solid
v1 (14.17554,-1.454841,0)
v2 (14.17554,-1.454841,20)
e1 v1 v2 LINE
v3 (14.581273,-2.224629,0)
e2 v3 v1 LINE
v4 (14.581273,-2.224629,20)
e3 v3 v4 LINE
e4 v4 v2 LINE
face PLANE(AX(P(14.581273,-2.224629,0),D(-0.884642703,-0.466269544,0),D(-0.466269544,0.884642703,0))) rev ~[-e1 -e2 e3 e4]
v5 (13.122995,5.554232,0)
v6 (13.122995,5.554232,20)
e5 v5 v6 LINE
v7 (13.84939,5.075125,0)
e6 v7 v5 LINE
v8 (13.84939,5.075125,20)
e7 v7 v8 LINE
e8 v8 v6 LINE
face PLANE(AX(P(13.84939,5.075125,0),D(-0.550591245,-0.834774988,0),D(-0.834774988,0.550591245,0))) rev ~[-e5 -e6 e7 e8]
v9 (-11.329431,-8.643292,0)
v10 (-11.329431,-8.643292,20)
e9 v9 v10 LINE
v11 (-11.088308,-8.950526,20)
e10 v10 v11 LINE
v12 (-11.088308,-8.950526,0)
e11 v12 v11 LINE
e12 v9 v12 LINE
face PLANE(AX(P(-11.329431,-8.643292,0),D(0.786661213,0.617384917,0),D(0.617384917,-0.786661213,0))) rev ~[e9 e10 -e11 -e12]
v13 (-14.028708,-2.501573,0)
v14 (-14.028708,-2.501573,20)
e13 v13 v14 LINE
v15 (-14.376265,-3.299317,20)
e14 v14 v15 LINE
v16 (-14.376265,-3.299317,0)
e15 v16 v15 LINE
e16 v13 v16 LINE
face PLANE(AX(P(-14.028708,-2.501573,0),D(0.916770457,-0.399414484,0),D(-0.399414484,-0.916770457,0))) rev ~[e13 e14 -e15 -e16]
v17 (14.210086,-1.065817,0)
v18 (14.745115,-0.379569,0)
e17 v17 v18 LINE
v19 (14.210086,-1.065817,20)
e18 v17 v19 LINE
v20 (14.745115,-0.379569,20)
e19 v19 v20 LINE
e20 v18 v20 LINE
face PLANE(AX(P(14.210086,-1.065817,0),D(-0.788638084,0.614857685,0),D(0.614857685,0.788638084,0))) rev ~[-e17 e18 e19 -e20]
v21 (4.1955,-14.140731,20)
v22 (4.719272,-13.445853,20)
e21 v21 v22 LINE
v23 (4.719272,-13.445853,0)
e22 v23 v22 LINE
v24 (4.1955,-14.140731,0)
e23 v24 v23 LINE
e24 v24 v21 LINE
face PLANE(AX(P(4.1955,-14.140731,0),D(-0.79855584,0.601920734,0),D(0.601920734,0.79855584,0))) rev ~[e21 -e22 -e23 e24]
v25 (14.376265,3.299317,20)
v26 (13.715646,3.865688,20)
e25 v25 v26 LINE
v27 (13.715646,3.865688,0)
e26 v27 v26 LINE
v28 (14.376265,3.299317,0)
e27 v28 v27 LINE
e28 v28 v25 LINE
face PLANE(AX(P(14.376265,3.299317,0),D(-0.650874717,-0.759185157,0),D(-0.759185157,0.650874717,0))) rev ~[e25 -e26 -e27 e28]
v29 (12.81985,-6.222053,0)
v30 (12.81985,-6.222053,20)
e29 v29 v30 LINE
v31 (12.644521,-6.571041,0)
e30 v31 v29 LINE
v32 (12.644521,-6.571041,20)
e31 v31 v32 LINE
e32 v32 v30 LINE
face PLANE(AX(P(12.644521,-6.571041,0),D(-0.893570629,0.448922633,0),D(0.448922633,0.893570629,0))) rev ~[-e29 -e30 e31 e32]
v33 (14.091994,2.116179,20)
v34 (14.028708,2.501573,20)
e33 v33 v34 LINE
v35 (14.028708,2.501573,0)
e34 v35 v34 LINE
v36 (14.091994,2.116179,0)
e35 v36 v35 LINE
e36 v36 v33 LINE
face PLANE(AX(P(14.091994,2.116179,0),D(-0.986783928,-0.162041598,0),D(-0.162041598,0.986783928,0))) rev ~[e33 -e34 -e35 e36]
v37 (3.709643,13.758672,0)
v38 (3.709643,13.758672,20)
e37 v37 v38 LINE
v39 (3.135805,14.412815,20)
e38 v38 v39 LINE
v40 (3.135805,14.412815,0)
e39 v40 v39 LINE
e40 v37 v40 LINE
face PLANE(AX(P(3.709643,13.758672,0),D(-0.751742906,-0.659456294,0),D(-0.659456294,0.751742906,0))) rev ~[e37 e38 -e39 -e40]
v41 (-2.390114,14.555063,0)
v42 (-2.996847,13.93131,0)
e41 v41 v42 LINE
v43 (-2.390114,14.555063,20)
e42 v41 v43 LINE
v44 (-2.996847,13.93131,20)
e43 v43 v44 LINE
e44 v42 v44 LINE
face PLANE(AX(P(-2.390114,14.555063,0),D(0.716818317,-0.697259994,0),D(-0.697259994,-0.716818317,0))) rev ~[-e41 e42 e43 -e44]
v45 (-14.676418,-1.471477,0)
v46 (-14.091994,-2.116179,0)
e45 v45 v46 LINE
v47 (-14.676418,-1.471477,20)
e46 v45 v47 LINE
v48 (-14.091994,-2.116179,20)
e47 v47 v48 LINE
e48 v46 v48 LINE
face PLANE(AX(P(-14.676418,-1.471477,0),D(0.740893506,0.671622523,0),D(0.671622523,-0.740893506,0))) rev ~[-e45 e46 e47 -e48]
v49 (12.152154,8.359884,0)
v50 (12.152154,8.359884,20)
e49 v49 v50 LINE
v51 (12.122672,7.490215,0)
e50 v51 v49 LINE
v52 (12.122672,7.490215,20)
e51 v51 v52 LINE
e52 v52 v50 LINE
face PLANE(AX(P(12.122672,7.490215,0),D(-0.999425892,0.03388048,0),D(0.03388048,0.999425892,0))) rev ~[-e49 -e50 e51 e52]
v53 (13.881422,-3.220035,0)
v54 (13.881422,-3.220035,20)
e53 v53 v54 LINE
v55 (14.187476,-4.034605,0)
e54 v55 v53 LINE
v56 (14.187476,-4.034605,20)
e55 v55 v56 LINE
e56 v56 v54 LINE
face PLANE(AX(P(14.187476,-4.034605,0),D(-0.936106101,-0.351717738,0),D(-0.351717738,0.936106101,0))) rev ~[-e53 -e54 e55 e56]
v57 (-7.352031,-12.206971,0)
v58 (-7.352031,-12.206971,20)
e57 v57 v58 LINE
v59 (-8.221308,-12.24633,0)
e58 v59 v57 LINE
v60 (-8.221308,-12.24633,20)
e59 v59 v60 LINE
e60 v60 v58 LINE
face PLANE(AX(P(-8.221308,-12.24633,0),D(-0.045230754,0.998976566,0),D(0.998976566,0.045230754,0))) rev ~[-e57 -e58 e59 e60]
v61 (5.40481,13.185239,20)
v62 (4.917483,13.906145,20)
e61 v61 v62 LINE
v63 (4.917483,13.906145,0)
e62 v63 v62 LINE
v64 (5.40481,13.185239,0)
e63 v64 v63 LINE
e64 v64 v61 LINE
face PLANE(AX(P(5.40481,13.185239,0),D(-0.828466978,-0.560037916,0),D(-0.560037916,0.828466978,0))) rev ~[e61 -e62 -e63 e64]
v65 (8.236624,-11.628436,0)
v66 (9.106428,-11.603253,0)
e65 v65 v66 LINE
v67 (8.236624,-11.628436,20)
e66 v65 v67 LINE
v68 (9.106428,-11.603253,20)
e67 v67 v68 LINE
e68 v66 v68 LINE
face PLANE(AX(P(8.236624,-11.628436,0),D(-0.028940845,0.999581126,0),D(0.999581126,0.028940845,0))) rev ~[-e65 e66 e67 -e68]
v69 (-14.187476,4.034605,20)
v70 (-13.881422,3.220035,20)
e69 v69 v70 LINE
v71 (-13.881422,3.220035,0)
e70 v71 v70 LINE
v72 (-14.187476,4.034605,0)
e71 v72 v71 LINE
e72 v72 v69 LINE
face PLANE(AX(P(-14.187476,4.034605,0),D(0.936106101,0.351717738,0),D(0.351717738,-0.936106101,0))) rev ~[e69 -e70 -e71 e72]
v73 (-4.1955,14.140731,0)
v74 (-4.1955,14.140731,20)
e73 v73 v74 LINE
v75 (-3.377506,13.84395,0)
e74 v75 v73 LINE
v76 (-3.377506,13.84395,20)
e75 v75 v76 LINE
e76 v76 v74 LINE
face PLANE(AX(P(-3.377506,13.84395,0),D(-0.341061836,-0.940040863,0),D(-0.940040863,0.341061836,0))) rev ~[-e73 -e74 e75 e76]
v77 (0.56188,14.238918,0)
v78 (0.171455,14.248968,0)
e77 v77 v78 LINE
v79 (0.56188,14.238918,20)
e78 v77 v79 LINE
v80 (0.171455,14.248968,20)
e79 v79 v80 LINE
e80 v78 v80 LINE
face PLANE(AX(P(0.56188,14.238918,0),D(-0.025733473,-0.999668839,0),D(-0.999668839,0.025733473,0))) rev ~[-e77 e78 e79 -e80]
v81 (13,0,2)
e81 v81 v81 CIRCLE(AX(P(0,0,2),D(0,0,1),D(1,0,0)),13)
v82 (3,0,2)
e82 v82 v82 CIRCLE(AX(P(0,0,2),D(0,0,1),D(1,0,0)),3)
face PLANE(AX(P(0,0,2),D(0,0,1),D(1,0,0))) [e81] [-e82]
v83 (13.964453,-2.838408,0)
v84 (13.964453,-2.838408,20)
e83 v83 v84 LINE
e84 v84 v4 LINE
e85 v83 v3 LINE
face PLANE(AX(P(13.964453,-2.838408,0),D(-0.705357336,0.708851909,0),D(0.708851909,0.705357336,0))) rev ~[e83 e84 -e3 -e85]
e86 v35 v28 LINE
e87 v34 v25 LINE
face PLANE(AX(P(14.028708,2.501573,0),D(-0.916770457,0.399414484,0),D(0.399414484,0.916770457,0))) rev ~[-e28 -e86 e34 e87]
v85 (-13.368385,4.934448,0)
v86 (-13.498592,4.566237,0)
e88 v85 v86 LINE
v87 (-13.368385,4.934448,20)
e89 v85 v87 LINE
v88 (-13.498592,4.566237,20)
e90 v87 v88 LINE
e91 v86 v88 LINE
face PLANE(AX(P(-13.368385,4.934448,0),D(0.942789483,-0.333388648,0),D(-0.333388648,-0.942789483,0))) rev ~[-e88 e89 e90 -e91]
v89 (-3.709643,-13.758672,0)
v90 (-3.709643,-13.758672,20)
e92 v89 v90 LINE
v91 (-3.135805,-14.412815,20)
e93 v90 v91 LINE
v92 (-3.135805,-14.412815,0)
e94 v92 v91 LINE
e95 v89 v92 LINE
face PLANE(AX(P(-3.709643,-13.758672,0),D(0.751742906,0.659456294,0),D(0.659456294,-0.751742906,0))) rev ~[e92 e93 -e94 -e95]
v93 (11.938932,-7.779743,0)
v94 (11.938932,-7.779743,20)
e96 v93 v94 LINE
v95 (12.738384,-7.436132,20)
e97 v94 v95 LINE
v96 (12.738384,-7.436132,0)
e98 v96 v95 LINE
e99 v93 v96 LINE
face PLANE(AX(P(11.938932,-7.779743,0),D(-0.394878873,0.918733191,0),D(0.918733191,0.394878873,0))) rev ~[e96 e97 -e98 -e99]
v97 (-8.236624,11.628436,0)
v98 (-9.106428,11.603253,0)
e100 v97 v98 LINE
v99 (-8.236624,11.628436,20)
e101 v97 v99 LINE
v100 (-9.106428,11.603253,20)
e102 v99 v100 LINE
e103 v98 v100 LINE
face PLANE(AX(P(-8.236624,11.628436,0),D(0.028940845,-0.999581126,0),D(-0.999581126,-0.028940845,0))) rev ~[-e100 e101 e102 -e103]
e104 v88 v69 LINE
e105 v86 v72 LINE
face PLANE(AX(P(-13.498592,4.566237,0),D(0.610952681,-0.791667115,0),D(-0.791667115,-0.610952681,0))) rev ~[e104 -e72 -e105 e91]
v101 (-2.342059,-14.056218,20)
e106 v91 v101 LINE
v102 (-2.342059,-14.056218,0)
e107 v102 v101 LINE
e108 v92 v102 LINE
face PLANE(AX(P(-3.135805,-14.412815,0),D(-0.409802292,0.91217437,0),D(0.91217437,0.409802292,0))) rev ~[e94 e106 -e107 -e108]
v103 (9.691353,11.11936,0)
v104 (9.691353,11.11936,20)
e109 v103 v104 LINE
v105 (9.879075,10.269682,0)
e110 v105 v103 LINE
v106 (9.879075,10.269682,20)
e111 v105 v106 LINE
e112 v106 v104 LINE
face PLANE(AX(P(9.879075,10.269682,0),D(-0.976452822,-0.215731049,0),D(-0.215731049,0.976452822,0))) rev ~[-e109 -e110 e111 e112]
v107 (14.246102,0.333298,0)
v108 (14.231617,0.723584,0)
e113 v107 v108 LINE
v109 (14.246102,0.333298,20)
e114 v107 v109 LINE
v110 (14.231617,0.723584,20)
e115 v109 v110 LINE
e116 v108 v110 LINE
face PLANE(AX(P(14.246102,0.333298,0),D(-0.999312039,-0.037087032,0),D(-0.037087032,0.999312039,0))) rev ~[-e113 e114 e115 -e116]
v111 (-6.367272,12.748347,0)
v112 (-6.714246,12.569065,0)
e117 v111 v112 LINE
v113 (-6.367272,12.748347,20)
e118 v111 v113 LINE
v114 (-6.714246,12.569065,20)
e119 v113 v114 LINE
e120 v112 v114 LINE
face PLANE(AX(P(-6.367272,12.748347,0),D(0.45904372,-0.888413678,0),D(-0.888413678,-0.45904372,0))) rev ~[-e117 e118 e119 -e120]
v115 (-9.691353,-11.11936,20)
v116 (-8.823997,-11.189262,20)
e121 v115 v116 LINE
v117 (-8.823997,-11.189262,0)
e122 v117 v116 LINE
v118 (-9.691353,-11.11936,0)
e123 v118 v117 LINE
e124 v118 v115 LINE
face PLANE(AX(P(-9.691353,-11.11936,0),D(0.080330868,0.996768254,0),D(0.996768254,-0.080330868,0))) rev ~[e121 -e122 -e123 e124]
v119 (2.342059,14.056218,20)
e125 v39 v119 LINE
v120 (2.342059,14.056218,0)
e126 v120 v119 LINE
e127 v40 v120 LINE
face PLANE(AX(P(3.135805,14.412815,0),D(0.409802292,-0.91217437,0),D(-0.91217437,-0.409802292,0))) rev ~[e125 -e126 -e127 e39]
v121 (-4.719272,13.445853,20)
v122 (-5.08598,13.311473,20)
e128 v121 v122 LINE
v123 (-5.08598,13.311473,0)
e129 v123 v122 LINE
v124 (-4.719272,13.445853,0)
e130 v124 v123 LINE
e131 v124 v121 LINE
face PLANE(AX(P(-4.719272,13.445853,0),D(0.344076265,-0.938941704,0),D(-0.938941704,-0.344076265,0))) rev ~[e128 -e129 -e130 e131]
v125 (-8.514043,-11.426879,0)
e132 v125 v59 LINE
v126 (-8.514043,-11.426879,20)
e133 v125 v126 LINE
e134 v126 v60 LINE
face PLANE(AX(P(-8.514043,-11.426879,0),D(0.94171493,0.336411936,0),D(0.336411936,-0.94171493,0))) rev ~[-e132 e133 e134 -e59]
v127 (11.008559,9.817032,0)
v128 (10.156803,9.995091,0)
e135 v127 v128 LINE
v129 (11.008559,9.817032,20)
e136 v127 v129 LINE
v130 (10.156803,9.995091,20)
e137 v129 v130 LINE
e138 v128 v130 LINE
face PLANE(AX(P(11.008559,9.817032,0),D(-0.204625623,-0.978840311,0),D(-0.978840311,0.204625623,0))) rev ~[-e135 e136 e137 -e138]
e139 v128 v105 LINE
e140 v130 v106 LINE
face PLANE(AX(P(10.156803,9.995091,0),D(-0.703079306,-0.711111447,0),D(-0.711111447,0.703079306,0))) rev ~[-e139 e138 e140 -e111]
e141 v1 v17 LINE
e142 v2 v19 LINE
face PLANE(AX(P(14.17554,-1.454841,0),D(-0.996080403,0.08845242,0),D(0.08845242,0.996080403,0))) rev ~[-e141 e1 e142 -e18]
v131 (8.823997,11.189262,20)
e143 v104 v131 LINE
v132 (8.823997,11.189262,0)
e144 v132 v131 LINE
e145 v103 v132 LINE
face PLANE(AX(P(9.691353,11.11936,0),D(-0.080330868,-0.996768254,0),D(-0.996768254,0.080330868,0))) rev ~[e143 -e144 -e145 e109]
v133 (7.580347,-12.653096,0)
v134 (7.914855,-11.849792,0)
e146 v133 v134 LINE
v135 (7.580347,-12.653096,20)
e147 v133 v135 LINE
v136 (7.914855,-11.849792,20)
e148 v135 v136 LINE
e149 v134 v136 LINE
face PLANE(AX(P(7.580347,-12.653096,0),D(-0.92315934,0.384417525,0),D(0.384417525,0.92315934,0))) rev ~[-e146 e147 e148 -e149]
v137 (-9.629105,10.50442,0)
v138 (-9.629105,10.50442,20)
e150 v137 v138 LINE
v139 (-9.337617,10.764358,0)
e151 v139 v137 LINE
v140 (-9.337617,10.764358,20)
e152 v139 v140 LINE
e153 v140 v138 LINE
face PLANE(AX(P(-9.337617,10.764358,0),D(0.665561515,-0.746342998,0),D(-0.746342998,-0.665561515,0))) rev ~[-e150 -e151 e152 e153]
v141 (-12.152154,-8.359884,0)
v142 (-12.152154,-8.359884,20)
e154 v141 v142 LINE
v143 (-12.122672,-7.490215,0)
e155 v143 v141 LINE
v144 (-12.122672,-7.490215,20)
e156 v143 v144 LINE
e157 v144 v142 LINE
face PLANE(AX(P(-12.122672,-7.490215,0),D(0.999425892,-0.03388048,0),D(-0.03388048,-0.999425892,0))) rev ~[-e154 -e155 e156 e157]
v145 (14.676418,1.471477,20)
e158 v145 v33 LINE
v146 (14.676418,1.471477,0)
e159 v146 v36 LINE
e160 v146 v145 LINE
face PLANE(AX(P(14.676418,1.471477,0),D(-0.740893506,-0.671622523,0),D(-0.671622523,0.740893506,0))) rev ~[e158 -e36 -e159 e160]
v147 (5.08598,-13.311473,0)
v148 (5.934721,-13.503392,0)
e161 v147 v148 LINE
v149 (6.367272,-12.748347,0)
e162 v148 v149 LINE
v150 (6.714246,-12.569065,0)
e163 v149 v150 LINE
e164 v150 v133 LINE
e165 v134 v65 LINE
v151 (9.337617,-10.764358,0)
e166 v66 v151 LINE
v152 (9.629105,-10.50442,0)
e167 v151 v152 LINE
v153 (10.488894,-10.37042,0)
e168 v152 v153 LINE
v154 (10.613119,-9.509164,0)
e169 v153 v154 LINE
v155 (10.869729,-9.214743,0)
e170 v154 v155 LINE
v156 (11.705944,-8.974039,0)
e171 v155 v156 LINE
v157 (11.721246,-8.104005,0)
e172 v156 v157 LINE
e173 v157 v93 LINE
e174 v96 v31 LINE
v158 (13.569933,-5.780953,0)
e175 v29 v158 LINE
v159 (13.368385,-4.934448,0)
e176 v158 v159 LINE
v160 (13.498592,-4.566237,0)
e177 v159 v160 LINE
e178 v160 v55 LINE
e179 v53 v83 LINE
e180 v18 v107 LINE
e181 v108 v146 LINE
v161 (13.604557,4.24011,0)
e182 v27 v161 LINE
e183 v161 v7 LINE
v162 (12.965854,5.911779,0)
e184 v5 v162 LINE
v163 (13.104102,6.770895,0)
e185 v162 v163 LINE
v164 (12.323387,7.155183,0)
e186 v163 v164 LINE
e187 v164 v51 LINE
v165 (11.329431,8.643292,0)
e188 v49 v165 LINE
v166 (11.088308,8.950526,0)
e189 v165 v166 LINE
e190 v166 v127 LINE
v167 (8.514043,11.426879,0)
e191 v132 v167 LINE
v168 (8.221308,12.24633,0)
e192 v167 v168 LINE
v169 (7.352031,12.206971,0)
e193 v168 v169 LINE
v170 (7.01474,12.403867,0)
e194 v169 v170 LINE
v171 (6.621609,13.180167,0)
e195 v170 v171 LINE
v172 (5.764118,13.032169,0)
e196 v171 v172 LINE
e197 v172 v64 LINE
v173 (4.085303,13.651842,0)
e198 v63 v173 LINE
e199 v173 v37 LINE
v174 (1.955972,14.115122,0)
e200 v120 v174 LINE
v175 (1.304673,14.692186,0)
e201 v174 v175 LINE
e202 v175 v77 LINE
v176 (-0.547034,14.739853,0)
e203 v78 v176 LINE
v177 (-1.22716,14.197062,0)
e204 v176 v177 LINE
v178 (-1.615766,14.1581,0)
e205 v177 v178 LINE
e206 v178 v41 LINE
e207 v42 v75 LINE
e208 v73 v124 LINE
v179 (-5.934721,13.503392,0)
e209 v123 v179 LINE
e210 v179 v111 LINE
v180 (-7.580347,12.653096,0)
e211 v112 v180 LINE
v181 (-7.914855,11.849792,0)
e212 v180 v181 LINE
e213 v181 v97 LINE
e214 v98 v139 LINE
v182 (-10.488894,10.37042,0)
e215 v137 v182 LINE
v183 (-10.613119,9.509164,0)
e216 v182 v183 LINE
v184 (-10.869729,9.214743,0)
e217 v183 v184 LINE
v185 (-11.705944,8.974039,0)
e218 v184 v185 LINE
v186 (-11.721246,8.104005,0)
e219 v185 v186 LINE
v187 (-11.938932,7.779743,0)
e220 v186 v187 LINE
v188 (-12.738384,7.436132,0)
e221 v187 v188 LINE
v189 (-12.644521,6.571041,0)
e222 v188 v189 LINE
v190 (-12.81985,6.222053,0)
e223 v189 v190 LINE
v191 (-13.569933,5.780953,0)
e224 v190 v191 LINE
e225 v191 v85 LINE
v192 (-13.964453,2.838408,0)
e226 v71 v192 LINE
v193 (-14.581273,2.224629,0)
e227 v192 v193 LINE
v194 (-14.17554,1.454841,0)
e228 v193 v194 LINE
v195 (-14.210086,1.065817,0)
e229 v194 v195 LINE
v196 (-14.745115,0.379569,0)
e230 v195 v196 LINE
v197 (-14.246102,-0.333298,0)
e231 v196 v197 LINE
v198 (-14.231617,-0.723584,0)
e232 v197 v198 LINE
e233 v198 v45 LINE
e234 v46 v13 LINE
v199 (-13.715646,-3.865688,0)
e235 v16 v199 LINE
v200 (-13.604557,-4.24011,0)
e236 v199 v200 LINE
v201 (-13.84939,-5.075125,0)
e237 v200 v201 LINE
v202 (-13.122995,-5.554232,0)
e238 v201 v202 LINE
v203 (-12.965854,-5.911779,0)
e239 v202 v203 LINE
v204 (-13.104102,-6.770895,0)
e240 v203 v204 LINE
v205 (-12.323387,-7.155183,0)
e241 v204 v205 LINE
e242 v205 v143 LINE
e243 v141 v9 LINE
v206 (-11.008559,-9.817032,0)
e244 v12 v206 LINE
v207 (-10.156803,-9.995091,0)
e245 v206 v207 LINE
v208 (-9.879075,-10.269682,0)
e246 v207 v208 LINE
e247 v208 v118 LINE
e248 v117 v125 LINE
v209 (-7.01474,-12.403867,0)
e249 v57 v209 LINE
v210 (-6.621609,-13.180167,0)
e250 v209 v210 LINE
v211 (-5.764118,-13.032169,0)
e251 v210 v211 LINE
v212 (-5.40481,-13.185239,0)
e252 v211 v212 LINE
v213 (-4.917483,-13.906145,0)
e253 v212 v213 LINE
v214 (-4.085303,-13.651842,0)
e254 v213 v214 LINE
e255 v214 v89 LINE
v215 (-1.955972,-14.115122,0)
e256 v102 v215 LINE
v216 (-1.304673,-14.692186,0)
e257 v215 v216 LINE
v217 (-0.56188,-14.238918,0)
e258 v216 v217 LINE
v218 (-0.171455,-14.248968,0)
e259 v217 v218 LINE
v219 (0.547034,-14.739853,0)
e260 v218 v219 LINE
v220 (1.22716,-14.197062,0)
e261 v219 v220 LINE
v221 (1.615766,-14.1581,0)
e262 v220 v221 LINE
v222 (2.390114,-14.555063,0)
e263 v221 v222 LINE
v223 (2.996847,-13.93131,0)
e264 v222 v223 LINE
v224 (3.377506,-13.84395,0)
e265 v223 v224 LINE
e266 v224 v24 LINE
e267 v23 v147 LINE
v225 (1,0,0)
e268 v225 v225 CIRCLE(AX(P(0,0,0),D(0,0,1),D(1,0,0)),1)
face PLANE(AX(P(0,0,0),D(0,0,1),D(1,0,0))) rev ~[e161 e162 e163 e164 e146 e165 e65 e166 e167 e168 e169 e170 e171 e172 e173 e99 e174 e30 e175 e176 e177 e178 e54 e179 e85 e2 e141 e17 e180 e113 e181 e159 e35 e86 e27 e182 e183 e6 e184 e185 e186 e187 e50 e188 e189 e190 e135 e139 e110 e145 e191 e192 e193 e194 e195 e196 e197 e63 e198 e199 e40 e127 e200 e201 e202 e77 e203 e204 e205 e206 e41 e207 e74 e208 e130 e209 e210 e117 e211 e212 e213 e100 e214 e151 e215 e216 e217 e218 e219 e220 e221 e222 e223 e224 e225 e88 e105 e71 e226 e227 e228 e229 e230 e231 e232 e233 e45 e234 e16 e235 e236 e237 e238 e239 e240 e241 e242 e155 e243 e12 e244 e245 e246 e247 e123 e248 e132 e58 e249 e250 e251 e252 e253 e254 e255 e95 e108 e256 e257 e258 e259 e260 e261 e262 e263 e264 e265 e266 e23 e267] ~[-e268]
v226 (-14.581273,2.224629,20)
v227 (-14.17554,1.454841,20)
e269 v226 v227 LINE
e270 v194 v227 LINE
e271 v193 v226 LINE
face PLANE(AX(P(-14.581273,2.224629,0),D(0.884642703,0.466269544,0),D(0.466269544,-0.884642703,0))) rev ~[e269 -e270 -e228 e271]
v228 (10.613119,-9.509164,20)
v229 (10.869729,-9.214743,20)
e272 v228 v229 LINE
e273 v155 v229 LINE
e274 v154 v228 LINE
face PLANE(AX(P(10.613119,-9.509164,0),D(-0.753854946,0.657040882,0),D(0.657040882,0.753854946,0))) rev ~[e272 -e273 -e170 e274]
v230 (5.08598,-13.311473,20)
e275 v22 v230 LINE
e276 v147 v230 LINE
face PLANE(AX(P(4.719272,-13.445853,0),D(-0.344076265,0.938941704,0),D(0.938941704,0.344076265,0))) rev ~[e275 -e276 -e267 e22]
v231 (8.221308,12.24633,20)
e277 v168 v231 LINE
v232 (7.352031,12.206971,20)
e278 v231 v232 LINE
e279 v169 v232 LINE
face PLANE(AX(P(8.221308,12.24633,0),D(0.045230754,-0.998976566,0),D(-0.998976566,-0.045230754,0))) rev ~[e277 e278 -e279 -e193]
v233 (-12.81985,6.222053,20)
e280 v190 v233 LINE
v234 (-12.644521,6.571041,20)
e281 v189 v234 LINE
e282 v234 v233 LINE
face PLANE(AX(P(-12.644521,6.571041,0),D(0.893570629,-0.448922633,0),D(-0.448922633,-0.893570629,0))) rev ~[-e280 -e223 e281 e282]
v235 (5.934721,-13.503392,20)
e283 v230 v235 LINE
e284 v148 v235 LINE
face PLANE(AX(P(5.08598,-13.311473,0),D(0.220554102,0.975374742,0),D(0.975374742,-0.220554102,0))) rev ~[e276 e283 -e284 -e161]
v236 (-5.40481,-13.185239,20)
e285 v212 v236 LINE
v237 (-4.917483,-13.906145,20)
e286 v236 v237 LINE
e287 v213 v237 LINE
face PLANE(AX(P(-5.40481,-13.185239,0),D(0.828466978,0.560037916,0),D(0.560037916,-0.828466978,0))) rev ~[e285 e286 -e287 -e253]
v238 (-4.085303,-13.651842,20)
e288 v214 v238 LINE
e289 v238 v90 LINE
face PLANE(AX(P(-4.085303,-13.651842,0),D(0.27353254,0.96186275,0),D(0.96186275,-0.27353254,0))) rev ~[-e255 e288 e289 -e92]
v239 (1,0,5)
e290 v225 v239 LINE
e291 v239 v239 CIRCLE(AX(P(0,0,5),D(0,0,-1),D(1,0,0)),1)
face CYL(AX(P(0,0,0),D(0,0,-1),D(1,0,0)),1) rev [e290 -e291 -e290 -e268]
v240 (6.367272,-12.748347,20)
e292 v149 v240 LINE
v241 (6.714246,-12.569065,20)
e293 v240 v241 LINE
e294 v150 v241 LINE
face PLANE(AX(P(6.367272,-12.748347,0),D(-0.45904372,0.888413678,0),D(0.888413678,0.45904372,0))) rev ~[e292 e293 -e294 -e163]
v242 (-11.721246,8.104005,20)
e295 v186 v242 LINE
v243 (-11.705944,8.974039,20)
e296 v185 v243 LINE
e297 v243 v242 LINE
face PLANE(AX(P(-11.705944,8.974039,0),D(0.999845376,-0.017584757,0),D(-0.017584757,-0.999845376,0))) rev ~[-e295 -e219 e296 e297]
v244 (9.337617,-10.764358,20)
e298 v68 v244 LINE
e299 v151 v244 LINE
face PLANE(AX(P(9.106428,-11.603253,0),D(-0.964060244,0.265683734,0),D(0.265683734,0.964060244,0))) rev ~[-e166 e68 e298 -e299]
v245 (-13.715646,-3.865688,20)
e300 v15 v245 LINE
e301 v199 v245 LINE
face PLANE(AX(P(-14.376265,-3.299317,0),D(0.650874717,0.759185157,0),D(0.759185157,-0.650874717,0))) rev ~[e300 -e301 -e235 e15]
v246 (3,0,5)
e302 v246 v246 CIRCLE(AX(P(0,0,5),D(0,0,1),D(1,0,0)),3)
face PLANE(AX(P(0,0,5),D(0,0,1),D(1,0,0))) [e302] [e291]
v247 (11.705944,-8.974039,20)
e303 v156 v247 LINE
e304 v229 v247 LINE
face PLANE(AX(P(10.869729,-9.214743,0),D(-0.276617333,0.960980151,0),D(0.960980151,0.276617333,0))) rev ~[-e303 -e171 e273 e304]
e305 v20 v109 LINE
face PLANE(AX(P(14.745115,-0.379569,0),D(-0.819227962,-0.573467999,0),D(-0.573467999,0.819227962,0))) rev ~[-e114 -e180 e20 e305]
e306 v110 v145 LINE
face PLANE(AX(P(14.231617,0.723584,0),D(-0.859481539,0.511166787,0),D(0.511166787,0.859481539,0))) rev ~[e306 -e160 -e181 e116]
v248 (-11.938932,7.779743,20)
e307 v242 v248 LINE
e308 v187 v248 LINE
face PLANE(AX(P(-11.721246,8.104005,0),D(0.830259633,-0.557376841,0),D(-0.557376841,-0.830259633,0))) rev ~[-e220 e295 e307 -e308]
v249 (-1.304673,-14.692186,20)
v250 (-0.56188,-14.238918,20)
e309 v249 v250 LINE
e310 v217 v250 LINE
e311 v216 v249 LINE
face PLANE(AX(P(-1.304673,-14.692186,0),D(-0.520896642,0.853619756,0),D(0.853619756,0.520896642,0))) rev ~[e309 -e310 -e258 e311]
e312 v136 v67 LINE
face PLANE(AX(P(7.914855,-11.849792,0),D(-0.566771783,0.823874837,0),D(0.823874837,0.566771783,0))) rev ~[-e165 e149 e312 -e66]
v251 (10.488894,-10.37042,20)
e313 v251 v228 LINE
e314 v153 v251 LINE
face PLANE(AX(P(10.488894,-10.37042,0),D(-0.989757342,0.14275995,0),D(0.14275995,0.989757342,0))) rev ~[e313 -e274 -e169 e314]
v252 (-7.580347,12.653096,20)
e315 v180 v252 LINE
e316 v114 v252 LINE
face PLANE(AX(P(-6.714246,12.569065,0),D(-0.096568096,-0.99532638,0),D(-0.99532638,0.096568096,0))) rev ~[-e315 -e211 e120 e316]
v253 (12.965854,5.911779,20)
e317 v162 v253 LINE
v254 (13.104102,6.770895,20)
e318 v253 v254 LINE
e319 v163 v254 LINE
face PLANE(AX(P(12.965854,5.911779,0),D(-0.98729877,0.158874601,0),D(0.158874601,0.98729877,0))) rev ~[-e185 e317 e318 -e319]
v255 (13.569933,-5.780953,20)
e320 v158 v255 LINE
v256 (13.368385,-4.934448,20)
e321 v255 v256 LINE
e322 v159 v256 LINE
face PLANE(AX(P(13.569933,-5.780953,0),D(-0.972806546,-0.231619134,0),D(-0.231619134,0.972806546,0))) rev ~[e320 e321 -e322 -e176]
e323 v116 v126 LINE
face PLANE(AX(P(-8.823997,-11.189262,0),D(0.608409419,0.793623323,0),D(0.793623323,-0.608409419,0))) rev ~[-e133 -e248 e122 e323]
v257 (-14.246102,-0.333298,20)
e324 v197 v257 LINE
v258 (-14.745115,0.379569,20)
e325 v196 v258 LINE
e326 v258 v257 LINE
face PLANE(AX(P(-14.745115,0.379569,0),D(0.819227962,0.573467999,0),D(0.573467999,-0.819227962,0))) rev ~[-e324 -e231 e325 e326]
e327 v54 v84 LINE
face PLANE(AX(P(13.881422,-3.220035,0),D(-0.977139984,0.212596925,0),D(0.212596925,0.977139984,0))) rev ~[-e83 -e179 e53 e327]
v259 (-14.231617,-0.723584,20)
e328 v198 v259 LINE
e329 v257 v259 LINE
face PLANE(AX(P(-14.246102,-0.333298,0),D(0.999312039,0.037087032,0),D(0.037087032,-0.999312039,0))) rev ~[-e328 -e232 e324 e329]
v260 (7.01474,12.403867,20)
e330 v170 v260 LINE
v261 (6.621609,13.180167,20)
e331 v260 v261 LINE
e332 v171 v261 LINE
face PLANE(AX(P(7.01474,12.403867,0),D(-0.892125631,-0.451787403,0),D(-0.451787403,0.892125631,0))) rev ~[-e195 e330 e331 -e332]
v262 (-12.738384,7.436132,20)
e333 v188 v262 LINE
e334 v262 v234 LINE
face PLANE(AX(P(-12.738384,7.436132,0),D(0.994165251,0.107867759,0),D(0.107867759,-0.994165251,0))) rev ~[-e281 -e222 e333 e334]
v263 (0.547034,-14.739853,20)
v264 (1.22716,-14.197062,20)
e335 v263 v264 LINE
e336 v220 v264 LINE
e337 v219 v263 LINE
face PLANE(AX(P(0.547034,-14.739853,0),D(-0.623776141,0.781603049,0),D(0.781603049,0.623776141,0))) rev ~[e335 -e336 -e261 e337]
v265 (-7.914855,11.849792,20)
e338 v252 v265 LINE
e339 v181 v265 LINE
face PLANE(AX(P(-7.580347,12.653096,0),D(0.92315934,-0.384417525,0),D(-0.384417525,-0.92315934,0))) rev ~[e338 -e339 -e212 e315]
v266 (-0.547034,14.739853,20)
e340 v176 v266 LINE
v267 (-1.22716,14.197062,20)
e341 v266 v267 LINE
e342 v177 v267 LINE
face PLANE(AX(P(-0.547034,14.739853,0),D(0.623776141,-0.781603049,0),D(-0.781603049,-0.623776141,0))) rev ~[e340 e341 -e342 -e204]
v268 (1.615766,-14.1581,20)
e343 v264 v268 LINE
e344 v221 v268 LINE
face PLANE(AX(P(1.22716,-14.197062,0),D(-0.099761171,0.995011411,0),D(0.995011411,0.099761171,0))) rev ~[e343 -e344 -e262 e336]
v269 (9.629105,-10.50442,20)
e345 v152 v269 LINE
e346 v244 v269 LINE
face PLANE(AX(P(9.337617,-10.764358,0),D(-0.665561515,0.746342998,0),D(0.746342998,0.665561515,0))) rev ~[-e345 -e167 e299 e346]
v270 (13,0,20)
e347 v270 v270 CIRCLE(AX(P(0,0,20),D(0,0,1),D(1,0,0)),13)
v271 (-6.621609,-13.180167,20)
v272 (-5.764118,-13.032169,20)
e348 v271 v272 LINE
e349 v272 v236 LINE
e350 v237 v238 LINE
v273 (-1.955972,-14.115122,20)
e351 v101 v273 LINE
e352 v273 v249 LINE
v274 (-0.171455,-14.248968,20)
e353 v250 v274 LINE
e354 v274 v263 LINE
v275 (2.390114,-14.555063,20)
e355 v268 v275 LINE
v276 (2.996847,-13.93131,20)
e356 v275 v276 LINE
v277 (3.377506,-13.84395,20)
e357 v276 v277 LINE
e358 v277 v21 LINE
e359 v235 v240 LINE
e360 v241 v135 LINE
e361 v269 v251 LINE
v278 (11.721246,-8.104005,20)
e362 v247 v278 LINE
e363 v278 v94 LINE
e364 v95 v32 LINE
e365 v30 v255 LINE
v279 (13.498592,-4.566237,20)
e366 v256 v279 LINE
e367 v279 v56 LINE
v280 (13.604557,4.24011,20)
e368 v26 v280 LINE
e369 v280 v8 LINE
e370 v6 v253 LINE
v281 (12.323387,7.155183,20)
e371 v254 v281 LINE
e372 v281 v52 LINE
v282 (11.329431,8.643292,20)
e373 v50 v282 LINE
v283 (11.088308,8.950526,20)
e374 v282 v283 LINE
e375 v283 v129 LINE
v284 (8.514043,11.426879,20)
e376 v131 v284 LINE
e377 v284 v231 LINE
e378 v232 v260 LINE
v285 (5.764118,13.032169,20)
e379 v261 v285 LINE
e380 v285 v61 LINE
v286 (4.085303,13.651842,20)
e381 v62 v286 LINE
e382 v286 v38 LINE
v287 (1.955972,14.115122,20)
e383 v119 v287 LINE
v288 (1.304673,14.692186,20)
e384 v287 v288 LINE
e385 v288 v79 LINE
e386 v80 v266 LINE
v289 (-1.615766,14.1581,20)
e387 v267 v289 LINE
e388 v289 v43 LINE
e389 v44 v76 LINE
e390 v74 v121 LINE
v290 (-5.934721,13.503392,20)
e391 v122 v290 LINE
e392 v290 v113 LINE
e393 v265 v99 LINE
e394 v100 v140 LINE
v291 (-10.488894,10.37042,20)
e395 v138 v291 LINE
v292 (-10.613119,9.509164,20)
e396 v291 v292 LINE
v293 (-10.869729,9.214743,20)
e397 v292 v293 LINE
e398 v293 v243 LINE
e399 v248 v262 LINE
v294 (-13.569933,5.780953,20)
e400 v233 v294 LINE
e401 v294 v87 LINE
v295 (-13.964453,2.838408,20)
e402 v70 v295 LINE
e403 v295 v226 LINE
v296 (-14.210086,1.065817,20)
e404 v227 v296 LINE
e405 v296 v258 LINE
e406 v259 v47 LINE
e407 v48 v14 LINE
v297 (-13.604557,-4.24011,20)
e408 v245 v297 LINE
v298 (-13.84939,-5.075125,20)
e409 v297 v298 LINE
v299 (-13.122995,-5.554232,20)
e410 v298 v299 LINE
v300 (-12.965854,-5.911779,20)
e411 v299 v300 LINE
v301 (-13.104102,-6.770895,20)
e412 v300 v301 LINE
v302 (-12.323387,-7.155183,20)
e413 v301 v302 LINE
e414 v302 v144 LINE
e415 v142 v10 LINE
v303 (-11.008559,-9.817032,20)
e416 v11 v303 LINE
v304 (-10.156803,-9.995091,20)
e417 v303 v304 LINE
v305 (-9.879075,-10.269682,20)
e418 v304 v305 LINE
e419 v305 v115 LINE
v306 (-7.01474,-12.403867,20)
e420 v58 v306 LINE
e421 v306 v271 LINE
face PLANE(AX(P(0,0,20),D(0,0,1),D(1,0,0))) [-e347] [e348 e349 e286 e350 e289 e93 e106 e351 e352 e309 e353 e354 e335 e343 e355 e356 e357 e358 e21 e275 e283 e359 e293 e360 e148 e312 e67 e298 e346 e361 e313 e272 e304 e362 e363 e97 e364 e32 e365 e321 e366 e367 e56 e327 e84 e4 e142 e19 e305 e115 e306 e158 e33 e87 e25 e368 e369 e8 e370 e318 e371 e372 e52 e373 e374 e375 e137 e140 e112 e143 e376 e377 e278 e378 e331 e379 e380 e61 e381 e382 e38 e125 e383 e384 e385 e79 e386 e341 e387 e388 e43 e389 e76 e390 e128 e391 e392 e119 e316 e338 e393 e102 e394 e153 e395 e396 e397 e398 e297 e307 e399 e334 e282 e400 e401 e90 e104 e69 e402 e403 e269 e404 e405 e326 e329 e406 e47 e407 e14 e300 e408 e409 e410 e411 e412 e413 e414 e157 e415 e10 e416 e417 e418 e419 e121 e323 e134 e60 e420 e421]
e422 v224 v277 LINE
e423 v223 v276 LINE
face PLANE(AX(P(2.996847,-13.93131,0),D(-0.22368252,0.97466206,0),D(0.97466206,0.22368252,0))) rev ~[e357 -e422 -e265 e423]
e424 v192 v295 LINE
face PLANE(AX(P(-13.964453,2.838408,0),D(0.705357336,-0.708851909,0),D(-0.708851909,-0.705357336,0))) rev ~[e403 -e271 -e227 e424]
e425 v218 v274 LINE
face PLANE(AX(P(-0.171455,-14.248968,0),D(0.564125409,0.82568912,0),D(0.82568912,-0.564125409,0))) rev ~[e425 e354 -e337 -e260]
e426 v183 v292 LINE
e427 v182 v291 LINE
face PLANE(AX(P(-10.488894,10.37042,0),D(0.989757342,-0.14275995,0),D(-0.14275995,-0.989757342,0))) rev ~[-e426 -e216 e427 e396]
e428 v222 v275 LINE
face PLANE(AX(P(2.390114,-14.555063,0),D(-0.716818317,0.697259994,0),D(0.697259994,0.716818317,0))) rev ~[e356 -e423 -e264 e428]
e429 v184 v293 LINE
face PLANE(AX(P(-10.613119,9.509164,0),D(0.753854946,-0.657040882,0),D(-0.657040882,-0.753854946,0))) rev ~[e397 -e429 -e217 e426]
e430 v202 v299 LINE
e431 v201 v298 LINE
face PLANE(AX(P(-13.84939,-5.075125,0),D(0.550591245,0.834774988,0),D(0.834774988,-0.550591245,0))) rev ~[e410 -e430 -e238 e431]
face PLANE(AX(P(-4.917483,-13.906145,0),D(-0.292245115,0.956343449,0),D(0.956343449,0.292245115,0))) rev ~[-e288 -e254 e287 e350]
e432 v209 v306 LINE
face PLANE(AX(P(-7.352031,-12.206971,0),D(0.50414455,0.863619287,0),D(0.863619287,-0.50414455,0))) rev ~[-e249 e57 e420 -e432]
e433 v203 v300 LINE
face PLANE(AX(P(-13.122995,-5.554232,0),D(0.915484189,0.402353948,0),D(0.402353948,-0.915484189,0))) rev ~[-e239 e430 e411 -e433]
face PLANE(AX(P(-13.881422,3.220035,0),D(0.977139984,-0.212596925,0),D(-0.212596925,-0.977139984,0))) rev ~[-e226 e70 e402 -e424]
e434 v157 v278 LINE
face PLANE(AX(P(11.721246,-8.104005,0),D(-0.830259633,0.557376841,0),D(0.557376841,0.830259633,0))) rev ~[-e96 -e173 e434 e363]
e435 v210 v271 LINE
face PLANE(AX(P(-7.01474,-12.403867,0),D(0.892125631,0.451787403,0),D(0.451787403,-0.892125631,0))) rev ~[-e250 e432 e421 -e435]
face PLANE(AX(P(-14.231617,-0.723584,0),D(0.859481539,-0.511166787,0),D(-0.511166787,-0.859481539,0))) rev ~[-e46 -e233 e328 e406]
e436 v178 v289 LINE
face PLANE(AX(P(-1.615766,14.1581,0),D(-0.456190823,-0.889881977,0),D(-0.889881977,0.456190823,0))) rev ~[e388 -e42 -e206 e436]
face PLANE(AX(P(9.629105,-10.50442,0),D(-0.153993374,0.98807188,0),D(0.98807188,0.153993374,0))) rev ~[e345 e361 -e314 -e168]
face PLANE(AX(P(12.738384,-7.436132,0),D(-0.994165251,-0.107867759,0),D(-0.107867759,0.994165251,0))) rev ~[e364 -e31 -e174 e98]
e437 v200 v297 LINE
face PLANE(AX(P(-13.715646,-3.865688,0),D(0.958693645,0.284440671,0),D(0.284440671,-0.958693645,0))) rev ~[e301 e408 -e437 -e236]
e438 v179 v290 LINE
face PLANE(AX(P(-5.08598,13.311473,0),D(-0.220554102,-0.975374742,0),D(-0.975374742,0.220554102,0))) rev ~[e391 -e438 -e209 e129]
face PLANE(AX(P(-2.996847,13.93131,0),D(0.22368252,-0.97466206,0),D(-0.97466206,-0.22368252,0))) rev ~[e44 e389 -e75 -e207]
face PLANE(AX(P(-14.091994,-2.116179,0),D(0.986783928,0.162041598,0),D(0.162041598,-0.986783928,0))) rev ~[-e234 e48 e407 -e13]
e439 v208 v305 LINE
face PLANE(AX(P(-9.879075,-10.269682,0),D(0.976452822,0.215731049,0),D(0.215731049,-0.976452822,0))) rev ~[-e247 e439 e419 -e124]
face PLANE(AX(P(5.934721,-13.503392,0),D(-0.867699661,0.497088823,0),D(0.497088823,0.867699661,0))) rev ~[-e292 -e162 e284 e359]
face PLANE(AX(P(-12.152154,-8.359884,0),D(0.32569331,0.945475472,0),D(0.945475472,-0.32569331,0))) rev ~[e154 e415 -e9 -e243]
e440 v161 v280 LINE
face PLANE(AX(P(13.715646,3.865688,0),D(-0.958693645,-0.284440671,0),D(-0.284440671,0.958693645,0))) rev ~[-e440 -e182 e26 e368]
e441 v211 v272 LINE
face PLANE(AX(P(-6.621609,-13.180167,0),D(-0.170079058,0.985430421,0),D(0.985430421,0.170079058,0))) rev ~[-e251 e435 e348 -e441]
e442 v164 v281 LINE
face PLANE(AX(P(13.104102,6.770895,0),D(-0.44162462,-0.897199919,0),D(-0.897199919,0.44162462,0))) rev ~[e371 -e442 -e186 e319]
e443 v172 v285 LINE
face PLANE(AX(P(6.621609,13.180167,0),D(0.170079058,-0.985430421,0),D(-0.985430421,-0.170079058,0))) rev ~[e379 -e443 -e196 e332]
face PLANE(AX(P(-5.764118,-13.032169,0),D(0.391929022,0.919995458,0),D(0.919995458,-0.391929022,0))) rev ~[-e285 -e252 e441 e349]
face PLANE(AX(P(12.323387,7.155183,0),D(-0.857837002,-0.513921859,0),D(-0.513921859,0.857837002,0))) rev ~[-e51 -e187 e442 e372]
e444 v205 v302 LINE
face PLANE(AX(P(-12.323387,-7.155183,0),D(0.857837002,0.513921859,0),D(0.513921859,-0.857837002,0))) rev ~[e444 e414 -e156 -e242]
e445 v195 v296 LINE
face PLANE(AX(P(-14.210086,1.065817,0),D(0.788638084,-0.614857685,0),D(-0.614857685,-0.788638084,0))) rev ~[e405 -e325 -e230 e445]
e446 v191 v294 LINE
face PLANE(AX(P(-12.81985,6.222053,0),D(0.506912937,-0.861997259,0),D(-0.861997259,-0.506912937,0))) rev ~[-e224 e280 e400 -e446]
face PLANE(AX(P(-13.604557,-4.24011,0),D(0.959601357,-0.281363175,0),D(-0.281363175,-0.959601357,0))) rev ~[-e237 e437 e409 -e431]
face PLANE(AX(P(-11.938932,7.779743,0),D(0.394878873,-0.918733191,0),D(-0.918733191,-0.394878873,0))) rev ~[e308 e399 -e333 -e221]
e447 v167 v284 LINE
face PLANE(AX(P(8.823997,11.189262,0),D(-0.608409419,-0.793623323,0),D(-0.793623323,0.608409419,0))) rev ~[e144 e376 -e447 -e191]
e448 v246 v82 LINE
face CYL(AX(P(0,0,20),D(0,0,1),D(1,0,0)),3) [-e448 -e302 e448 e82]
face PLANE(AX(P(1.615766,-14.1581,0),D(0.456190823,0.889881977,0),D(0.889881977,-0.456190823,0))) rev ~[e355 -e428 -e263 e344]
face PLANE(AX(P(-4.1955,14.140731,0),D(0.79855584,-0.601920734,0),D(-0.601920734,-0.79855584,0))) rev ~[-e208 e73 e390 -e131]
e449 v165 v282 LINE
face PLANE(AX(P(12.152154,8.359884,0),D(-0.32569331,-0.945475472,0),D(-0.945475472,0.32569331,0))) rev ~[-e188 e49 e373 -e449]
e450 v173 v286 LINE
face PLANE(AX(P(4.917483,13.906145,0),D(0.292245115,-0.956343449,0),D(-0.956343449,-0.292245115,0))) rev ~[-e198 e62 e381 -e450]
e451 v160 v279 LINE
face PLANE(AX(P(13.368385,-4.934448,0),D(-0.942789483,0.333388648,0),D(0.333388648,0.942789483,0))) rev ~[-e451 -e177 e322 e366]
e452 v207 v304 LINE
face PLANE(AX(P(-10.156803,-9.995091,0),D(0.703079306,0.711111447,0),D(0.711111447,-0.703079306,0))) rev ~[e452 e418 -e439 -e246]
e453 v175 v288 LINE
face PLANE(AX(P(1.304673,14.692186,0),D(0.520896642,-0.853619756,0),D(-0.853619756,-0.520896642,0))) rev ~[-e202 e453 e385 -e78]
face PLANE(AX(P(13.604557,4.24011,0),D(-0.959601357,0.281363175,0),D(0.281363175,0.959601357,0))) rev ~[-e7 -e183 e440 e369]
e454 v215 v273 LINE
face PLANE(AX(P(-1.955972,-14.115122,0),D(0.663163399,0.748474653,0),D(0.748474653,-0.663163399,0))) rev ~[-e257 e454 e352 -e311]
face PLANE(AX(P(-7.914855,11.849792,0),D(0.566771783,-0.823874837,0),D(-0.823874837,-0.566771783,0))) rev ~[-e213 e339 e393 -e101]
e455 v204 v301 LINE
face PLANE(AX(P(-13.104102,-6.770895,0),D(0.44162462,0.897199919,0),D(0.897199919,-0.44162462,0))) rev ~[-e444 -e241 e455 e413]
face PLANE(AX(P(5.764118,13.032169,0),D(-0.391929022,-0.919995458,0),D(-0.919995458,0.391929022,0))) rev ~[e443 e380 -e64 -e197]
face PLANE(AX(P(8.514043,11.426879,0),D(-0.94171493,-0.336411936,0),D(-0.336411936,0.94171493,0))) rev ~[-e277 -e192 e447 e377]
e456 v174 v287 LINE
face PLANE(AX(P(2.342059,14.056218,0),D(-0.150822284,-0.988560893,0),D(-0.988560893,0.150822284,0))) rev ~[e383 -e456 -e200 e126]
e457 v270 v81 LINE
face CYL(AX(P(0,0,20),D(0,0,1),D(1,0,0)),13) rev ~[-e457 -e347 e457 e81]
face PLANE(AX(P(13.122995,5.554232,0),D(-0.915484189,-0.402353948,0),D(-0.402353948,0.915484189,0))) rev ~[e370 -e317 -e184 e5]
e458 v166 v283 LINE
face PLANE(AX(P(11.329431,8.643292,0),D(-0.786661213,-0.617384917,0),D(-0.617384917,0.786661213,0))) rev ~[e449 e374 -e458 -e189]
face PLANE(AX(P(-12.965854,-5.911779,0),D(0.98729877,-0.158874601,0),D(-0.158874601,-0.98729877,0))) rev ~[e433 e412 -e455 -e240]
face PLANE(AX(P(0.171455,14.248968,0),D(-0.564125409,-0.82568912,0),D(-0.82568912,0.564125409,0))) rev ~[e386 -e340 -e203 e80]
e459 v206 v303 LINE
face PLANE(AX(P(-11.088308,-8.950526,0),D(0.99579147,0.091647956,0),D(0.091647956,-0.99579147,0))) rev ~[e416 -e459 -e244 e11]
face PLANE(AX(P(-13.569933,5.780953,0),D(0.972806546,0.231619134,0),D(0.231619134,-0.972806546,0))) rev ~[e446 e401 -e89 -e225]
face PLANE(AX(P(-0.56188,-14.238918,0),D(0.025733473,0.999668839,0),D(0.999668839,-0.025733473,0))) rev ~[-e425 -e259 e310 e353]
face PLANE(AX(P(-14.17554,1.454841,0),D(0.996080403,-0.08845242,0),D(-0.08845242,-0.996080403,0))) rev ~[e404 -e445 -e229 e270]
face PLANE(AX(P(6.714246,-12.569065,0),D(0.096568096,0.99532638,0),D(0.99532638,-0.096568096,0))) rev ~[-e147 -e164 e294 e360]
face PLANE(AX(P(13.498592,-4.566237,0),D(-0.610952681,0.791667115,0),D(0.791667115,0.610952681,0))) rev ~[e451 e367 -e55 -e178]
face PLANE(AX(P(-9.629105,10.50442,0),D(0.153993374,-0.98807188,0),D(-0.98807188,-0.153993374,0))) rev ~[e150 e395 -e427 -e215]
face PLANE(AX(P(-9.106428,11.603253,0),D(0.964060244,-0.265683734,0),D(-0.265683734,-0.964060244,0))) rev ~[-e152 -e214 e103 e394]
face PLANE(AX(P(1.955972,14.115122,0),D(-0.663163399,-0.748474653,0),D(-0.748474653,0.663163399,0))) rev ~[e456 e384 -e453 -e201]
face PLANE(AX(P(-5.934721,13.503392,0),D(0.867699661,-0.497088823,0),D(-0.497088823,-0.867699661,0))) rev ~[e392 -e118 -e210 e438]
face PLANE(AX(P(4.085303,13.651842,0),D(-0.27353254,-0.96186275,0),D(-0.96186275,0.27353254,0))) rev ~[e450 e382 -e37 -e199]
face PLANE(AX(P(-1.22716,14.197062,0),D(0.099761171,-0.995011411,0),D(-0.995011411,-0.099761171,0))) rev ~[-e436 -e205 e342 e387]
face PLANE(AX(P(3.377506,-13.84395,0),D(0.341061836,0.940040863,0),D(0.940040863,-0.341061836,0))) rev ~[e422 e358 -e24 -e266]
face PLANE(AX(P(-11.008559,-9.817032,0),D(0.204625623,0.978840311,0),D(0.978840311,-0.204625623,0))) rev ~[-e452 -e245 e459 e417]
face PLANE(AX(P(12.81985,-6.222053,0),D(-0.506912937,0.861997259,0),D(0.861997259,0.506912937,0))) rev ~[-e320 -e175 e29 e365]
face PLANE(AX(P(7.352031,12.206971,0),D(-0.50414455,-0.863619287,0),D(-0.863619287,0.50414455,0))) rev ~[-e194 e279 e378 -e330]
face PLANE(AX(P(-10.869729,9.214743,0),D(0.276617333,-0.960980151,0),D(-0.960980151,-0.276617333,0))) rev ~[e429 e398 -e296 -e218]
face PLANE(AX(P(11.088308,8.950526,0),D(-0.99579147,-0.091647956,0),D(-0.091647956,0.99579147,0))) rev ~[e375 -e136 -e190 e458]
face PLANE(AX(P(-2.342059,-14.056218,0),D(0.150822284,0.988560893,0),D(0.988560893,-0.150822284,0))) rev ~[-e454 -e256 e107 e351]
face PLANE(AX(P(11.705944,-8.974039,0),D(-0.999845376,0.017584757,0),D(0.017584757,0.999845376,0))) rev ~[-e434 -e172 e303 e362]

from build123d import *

# Parameters (mm, degrees)
ESQUISSE1_R             = 1
BOSS_EXTRU_1_DEPTH      = 20
ESQUISSE2_R             = 13
ESQUISSE2_R_2           = 3
ENL_V_MAT_EXTRU_1_DEPTH = 18
ESQUISSE3_R             = 3
ENL_V_MAT_EXTRU_2_DEPTH = 15


with BuildPart() as part:
    # Esquisse1 → Boss.-Extru.1 (new body)
    with BuildSketch(Plane.XY):
        Polygon((12.738384473, -7.436132127), (12.644521362, -6.571040977), (12.819850246, -6.222052689), (13.569932991, -5.780953088), (13.368385348, -4.934447607), (13.498591881, -4.56623666), (14.18747556, -4.034604965), (13.881421911, -3.22003505), (13.964452658, -2.838408351), (14.581273164, -2.224628712), (14.175540158, -1.454840618), (14.210085674, -1.065816647), (14.74511538, -0.379568735), (14.246101669, 0.333297521), (14.231617151, 0.723583623), (14.676418318, 1.471477268), (14.091993646, 2.116179358), (14.028707524, 2.501572546), (14.376265372, 3.299317195), (13.715646465, 3.865687783), (13.604556799, 4.240110176), (13.849390133, 5.075124919), (13.122995347, 5.554232002), (12.965854086, 5.911778736), (13.104101738, 6.770894891), (12.323386752, 7.155182664), (12.122672109, 7.490215013), (12.152153831, 8.359883807), (11.329430986, 8.643291822), (11.088308351, 8.950526125), (11.008559199, 9.81703236), (10.156803327, 9.995091104), (9.879075346, 10.269682094), (9.691353012, 11.119360449), (8.823996811, 11.189261829), (8.514043422, 11.426879041), (8.221308398, 12.246329582), (7.352030594, 12.206971211), (7.014739946, 12.403867279), (6.62160884, 13.180166781), (5.764118463, 13.032169365), (5.404809832, 13.185239121), (4.917482555, 13.906144876), (4.08530274, 13.651842422), (3.709642638, 13.758671865), (3.135804633, 14.41281476), (2.342059353, 14.05621777), (1.955972163, 14.115122135), (1.304673198, 14.692185945), (0.561880291, 14.238918166), (0.171454839, 14.248968497), (-0.547033712, 14.739852581), (-1.227159959, 14.197062317), (-1.61576643, 14.158100114), (-2.390113575, 14.555062937), (-2.996847164, 13.931310314), (-3.377506098, 13.843950035), (-4.195499918, 14.140731255), (-4.719272298, 13.445853226), (-5.085980477, 13.311472593), (-5.934720721, 13.503391795), (-6.367271689, 12.748347), (-6.714245905, 12.569065277), (-7.580347433, 12.653095779), (-7.914855402, 11.849791726), (-8.236623665, 11.628436292), (-9.106427538, 11.603252884), (-9.337617118, 10.764358158), (-9.629104949, 10.504419922), (-10.488893841, 10.37041976), (-10.613119033, 9.509164232), (-10.869729496, 9.214742573), (-11.705944022, 8.974038921), (-11.721245721, 8.104005105), (-11.938931915, 7.77974323), (-12.738384473, 7.436132127), (-12.644521362, 6.571040977), (-12.819850246, 6.222052689), (-13.569932991, 5.780953088), (-13.368385348, 4.934447607), (-13.498591881, 4.56623666), (-14.18747556, 4.034604965), (-13.881421911, 3.22003505), (-13.964452658, 2.838408351), (-14.581273164, 2.224628712), (-14.175540158, 1.454840618), (-14.210085674, 1.065816647), (-14.74511538, 0.379568735), (-14.246101669, -0.333297521), (-14.231617151, -0.723583623), (-14.676418318, -1.471477268), (-14.091993646, -2.116179358), (-14.028707524, -2.501572546), (-14.376265372, -3.299317195), (-13.715646465, -3.865687783), (-13.604556799, -4.240110176), (-13.849390133, -5.075124919), (-13.122995347, -5.554232002), (-12.965854086, -5.911778736), (-13.104101738, -6.770894891), (-12.323386752, -7.155182664), (-12.122672109, -7.490215013), (-12.152153831, -8.359883807), (-11.329430986, -8.643291822), (-11.088308351, -8.950526125), (-11.008559199, -9.81703236), (-10.156803327, -9.995091104), (-9.879075346, -10.269682094), (-9.691353012, -11.119360449), (-8.823996811, -11.189261829), (-8.514043422, -11.426879041), (-8.221308398, -12.246329582), (-7.352030594, -12.206971211), (-7.014739946, -12.403867279), (-6.62160884, -13.180166781), (-5.764118463, -13.032169365), (-5.404809832, -13.185239121), (-4.917482555, -13.906144876), (-4.08530274, -13.651842422), (-3.709642638, -13.758671865), (-3.135804633, -14.41281476), (-2.342059353, -14.05621777), (-1.955972163, -14.115122135), (-1.304673198, -14.692185945), (-0.561880291, -14.238918166), (-0.171454839, -14.248968497), (0.547033712, -14.739852581), (1.227159959, -14.197062317), (1.61576643, -14.158100114), (2.390113575, -14.555062937), (2.996847164, -13.931310314), (3.377506098, -13.843950035), (4.195499918, -14.140731255), (4.719272298, -13.445853226), (5.085980477, -13.311472593), (5.934720721, -13.503391795), (6.367271689, -12.748347), (6.714245905, -12.569065277), (7.580347433, -12.653095779), (7.914855402, -11.849791726), (8.236623665, -11.628436292), (9.106427538, -11.603252884), (9.337617118, -10.764358158), (9.629104949, -10.504419922), (10.488893841, -10.37041976), (10.613119033, -9.509164232), (10.869729496, -9.214742573), (11.705944022, -8.974038921), (11.721245721, -8.104005105), (11.938931915, -7.77974323), align=None)
        Circle(ESQUISSE1_R, mode=Mode.SUBTRACT)
    extrude(amount=BOSS_EXTRU_1_DEPTH)

    # Esquisse2 → Enlèv. mat.-Extru.1 (cut)
    with BuildSketch(Plane.XY.offset(20)):
        Circle(ESQUISSE2_R)
        Circle(ESQUISSE2_R_2, mode=Mode.SUBTRACT)
    extrude(amount=-ENL_V_MAT_EXTRU_1_DEPTH, mode=Mode.SUBTRACT)

    # Esquisse3 → Enlèv. mat.-Extru.2 (cut)
    with BuildSketch(Plane.XY.offset(20)):
        Circle(ESQUISSE3_R)
    extrude(amount=-ENL_V_MAT_EXTRU_2_DEPTH, mode=Mode.SUBTRACT)


solid = part.part
